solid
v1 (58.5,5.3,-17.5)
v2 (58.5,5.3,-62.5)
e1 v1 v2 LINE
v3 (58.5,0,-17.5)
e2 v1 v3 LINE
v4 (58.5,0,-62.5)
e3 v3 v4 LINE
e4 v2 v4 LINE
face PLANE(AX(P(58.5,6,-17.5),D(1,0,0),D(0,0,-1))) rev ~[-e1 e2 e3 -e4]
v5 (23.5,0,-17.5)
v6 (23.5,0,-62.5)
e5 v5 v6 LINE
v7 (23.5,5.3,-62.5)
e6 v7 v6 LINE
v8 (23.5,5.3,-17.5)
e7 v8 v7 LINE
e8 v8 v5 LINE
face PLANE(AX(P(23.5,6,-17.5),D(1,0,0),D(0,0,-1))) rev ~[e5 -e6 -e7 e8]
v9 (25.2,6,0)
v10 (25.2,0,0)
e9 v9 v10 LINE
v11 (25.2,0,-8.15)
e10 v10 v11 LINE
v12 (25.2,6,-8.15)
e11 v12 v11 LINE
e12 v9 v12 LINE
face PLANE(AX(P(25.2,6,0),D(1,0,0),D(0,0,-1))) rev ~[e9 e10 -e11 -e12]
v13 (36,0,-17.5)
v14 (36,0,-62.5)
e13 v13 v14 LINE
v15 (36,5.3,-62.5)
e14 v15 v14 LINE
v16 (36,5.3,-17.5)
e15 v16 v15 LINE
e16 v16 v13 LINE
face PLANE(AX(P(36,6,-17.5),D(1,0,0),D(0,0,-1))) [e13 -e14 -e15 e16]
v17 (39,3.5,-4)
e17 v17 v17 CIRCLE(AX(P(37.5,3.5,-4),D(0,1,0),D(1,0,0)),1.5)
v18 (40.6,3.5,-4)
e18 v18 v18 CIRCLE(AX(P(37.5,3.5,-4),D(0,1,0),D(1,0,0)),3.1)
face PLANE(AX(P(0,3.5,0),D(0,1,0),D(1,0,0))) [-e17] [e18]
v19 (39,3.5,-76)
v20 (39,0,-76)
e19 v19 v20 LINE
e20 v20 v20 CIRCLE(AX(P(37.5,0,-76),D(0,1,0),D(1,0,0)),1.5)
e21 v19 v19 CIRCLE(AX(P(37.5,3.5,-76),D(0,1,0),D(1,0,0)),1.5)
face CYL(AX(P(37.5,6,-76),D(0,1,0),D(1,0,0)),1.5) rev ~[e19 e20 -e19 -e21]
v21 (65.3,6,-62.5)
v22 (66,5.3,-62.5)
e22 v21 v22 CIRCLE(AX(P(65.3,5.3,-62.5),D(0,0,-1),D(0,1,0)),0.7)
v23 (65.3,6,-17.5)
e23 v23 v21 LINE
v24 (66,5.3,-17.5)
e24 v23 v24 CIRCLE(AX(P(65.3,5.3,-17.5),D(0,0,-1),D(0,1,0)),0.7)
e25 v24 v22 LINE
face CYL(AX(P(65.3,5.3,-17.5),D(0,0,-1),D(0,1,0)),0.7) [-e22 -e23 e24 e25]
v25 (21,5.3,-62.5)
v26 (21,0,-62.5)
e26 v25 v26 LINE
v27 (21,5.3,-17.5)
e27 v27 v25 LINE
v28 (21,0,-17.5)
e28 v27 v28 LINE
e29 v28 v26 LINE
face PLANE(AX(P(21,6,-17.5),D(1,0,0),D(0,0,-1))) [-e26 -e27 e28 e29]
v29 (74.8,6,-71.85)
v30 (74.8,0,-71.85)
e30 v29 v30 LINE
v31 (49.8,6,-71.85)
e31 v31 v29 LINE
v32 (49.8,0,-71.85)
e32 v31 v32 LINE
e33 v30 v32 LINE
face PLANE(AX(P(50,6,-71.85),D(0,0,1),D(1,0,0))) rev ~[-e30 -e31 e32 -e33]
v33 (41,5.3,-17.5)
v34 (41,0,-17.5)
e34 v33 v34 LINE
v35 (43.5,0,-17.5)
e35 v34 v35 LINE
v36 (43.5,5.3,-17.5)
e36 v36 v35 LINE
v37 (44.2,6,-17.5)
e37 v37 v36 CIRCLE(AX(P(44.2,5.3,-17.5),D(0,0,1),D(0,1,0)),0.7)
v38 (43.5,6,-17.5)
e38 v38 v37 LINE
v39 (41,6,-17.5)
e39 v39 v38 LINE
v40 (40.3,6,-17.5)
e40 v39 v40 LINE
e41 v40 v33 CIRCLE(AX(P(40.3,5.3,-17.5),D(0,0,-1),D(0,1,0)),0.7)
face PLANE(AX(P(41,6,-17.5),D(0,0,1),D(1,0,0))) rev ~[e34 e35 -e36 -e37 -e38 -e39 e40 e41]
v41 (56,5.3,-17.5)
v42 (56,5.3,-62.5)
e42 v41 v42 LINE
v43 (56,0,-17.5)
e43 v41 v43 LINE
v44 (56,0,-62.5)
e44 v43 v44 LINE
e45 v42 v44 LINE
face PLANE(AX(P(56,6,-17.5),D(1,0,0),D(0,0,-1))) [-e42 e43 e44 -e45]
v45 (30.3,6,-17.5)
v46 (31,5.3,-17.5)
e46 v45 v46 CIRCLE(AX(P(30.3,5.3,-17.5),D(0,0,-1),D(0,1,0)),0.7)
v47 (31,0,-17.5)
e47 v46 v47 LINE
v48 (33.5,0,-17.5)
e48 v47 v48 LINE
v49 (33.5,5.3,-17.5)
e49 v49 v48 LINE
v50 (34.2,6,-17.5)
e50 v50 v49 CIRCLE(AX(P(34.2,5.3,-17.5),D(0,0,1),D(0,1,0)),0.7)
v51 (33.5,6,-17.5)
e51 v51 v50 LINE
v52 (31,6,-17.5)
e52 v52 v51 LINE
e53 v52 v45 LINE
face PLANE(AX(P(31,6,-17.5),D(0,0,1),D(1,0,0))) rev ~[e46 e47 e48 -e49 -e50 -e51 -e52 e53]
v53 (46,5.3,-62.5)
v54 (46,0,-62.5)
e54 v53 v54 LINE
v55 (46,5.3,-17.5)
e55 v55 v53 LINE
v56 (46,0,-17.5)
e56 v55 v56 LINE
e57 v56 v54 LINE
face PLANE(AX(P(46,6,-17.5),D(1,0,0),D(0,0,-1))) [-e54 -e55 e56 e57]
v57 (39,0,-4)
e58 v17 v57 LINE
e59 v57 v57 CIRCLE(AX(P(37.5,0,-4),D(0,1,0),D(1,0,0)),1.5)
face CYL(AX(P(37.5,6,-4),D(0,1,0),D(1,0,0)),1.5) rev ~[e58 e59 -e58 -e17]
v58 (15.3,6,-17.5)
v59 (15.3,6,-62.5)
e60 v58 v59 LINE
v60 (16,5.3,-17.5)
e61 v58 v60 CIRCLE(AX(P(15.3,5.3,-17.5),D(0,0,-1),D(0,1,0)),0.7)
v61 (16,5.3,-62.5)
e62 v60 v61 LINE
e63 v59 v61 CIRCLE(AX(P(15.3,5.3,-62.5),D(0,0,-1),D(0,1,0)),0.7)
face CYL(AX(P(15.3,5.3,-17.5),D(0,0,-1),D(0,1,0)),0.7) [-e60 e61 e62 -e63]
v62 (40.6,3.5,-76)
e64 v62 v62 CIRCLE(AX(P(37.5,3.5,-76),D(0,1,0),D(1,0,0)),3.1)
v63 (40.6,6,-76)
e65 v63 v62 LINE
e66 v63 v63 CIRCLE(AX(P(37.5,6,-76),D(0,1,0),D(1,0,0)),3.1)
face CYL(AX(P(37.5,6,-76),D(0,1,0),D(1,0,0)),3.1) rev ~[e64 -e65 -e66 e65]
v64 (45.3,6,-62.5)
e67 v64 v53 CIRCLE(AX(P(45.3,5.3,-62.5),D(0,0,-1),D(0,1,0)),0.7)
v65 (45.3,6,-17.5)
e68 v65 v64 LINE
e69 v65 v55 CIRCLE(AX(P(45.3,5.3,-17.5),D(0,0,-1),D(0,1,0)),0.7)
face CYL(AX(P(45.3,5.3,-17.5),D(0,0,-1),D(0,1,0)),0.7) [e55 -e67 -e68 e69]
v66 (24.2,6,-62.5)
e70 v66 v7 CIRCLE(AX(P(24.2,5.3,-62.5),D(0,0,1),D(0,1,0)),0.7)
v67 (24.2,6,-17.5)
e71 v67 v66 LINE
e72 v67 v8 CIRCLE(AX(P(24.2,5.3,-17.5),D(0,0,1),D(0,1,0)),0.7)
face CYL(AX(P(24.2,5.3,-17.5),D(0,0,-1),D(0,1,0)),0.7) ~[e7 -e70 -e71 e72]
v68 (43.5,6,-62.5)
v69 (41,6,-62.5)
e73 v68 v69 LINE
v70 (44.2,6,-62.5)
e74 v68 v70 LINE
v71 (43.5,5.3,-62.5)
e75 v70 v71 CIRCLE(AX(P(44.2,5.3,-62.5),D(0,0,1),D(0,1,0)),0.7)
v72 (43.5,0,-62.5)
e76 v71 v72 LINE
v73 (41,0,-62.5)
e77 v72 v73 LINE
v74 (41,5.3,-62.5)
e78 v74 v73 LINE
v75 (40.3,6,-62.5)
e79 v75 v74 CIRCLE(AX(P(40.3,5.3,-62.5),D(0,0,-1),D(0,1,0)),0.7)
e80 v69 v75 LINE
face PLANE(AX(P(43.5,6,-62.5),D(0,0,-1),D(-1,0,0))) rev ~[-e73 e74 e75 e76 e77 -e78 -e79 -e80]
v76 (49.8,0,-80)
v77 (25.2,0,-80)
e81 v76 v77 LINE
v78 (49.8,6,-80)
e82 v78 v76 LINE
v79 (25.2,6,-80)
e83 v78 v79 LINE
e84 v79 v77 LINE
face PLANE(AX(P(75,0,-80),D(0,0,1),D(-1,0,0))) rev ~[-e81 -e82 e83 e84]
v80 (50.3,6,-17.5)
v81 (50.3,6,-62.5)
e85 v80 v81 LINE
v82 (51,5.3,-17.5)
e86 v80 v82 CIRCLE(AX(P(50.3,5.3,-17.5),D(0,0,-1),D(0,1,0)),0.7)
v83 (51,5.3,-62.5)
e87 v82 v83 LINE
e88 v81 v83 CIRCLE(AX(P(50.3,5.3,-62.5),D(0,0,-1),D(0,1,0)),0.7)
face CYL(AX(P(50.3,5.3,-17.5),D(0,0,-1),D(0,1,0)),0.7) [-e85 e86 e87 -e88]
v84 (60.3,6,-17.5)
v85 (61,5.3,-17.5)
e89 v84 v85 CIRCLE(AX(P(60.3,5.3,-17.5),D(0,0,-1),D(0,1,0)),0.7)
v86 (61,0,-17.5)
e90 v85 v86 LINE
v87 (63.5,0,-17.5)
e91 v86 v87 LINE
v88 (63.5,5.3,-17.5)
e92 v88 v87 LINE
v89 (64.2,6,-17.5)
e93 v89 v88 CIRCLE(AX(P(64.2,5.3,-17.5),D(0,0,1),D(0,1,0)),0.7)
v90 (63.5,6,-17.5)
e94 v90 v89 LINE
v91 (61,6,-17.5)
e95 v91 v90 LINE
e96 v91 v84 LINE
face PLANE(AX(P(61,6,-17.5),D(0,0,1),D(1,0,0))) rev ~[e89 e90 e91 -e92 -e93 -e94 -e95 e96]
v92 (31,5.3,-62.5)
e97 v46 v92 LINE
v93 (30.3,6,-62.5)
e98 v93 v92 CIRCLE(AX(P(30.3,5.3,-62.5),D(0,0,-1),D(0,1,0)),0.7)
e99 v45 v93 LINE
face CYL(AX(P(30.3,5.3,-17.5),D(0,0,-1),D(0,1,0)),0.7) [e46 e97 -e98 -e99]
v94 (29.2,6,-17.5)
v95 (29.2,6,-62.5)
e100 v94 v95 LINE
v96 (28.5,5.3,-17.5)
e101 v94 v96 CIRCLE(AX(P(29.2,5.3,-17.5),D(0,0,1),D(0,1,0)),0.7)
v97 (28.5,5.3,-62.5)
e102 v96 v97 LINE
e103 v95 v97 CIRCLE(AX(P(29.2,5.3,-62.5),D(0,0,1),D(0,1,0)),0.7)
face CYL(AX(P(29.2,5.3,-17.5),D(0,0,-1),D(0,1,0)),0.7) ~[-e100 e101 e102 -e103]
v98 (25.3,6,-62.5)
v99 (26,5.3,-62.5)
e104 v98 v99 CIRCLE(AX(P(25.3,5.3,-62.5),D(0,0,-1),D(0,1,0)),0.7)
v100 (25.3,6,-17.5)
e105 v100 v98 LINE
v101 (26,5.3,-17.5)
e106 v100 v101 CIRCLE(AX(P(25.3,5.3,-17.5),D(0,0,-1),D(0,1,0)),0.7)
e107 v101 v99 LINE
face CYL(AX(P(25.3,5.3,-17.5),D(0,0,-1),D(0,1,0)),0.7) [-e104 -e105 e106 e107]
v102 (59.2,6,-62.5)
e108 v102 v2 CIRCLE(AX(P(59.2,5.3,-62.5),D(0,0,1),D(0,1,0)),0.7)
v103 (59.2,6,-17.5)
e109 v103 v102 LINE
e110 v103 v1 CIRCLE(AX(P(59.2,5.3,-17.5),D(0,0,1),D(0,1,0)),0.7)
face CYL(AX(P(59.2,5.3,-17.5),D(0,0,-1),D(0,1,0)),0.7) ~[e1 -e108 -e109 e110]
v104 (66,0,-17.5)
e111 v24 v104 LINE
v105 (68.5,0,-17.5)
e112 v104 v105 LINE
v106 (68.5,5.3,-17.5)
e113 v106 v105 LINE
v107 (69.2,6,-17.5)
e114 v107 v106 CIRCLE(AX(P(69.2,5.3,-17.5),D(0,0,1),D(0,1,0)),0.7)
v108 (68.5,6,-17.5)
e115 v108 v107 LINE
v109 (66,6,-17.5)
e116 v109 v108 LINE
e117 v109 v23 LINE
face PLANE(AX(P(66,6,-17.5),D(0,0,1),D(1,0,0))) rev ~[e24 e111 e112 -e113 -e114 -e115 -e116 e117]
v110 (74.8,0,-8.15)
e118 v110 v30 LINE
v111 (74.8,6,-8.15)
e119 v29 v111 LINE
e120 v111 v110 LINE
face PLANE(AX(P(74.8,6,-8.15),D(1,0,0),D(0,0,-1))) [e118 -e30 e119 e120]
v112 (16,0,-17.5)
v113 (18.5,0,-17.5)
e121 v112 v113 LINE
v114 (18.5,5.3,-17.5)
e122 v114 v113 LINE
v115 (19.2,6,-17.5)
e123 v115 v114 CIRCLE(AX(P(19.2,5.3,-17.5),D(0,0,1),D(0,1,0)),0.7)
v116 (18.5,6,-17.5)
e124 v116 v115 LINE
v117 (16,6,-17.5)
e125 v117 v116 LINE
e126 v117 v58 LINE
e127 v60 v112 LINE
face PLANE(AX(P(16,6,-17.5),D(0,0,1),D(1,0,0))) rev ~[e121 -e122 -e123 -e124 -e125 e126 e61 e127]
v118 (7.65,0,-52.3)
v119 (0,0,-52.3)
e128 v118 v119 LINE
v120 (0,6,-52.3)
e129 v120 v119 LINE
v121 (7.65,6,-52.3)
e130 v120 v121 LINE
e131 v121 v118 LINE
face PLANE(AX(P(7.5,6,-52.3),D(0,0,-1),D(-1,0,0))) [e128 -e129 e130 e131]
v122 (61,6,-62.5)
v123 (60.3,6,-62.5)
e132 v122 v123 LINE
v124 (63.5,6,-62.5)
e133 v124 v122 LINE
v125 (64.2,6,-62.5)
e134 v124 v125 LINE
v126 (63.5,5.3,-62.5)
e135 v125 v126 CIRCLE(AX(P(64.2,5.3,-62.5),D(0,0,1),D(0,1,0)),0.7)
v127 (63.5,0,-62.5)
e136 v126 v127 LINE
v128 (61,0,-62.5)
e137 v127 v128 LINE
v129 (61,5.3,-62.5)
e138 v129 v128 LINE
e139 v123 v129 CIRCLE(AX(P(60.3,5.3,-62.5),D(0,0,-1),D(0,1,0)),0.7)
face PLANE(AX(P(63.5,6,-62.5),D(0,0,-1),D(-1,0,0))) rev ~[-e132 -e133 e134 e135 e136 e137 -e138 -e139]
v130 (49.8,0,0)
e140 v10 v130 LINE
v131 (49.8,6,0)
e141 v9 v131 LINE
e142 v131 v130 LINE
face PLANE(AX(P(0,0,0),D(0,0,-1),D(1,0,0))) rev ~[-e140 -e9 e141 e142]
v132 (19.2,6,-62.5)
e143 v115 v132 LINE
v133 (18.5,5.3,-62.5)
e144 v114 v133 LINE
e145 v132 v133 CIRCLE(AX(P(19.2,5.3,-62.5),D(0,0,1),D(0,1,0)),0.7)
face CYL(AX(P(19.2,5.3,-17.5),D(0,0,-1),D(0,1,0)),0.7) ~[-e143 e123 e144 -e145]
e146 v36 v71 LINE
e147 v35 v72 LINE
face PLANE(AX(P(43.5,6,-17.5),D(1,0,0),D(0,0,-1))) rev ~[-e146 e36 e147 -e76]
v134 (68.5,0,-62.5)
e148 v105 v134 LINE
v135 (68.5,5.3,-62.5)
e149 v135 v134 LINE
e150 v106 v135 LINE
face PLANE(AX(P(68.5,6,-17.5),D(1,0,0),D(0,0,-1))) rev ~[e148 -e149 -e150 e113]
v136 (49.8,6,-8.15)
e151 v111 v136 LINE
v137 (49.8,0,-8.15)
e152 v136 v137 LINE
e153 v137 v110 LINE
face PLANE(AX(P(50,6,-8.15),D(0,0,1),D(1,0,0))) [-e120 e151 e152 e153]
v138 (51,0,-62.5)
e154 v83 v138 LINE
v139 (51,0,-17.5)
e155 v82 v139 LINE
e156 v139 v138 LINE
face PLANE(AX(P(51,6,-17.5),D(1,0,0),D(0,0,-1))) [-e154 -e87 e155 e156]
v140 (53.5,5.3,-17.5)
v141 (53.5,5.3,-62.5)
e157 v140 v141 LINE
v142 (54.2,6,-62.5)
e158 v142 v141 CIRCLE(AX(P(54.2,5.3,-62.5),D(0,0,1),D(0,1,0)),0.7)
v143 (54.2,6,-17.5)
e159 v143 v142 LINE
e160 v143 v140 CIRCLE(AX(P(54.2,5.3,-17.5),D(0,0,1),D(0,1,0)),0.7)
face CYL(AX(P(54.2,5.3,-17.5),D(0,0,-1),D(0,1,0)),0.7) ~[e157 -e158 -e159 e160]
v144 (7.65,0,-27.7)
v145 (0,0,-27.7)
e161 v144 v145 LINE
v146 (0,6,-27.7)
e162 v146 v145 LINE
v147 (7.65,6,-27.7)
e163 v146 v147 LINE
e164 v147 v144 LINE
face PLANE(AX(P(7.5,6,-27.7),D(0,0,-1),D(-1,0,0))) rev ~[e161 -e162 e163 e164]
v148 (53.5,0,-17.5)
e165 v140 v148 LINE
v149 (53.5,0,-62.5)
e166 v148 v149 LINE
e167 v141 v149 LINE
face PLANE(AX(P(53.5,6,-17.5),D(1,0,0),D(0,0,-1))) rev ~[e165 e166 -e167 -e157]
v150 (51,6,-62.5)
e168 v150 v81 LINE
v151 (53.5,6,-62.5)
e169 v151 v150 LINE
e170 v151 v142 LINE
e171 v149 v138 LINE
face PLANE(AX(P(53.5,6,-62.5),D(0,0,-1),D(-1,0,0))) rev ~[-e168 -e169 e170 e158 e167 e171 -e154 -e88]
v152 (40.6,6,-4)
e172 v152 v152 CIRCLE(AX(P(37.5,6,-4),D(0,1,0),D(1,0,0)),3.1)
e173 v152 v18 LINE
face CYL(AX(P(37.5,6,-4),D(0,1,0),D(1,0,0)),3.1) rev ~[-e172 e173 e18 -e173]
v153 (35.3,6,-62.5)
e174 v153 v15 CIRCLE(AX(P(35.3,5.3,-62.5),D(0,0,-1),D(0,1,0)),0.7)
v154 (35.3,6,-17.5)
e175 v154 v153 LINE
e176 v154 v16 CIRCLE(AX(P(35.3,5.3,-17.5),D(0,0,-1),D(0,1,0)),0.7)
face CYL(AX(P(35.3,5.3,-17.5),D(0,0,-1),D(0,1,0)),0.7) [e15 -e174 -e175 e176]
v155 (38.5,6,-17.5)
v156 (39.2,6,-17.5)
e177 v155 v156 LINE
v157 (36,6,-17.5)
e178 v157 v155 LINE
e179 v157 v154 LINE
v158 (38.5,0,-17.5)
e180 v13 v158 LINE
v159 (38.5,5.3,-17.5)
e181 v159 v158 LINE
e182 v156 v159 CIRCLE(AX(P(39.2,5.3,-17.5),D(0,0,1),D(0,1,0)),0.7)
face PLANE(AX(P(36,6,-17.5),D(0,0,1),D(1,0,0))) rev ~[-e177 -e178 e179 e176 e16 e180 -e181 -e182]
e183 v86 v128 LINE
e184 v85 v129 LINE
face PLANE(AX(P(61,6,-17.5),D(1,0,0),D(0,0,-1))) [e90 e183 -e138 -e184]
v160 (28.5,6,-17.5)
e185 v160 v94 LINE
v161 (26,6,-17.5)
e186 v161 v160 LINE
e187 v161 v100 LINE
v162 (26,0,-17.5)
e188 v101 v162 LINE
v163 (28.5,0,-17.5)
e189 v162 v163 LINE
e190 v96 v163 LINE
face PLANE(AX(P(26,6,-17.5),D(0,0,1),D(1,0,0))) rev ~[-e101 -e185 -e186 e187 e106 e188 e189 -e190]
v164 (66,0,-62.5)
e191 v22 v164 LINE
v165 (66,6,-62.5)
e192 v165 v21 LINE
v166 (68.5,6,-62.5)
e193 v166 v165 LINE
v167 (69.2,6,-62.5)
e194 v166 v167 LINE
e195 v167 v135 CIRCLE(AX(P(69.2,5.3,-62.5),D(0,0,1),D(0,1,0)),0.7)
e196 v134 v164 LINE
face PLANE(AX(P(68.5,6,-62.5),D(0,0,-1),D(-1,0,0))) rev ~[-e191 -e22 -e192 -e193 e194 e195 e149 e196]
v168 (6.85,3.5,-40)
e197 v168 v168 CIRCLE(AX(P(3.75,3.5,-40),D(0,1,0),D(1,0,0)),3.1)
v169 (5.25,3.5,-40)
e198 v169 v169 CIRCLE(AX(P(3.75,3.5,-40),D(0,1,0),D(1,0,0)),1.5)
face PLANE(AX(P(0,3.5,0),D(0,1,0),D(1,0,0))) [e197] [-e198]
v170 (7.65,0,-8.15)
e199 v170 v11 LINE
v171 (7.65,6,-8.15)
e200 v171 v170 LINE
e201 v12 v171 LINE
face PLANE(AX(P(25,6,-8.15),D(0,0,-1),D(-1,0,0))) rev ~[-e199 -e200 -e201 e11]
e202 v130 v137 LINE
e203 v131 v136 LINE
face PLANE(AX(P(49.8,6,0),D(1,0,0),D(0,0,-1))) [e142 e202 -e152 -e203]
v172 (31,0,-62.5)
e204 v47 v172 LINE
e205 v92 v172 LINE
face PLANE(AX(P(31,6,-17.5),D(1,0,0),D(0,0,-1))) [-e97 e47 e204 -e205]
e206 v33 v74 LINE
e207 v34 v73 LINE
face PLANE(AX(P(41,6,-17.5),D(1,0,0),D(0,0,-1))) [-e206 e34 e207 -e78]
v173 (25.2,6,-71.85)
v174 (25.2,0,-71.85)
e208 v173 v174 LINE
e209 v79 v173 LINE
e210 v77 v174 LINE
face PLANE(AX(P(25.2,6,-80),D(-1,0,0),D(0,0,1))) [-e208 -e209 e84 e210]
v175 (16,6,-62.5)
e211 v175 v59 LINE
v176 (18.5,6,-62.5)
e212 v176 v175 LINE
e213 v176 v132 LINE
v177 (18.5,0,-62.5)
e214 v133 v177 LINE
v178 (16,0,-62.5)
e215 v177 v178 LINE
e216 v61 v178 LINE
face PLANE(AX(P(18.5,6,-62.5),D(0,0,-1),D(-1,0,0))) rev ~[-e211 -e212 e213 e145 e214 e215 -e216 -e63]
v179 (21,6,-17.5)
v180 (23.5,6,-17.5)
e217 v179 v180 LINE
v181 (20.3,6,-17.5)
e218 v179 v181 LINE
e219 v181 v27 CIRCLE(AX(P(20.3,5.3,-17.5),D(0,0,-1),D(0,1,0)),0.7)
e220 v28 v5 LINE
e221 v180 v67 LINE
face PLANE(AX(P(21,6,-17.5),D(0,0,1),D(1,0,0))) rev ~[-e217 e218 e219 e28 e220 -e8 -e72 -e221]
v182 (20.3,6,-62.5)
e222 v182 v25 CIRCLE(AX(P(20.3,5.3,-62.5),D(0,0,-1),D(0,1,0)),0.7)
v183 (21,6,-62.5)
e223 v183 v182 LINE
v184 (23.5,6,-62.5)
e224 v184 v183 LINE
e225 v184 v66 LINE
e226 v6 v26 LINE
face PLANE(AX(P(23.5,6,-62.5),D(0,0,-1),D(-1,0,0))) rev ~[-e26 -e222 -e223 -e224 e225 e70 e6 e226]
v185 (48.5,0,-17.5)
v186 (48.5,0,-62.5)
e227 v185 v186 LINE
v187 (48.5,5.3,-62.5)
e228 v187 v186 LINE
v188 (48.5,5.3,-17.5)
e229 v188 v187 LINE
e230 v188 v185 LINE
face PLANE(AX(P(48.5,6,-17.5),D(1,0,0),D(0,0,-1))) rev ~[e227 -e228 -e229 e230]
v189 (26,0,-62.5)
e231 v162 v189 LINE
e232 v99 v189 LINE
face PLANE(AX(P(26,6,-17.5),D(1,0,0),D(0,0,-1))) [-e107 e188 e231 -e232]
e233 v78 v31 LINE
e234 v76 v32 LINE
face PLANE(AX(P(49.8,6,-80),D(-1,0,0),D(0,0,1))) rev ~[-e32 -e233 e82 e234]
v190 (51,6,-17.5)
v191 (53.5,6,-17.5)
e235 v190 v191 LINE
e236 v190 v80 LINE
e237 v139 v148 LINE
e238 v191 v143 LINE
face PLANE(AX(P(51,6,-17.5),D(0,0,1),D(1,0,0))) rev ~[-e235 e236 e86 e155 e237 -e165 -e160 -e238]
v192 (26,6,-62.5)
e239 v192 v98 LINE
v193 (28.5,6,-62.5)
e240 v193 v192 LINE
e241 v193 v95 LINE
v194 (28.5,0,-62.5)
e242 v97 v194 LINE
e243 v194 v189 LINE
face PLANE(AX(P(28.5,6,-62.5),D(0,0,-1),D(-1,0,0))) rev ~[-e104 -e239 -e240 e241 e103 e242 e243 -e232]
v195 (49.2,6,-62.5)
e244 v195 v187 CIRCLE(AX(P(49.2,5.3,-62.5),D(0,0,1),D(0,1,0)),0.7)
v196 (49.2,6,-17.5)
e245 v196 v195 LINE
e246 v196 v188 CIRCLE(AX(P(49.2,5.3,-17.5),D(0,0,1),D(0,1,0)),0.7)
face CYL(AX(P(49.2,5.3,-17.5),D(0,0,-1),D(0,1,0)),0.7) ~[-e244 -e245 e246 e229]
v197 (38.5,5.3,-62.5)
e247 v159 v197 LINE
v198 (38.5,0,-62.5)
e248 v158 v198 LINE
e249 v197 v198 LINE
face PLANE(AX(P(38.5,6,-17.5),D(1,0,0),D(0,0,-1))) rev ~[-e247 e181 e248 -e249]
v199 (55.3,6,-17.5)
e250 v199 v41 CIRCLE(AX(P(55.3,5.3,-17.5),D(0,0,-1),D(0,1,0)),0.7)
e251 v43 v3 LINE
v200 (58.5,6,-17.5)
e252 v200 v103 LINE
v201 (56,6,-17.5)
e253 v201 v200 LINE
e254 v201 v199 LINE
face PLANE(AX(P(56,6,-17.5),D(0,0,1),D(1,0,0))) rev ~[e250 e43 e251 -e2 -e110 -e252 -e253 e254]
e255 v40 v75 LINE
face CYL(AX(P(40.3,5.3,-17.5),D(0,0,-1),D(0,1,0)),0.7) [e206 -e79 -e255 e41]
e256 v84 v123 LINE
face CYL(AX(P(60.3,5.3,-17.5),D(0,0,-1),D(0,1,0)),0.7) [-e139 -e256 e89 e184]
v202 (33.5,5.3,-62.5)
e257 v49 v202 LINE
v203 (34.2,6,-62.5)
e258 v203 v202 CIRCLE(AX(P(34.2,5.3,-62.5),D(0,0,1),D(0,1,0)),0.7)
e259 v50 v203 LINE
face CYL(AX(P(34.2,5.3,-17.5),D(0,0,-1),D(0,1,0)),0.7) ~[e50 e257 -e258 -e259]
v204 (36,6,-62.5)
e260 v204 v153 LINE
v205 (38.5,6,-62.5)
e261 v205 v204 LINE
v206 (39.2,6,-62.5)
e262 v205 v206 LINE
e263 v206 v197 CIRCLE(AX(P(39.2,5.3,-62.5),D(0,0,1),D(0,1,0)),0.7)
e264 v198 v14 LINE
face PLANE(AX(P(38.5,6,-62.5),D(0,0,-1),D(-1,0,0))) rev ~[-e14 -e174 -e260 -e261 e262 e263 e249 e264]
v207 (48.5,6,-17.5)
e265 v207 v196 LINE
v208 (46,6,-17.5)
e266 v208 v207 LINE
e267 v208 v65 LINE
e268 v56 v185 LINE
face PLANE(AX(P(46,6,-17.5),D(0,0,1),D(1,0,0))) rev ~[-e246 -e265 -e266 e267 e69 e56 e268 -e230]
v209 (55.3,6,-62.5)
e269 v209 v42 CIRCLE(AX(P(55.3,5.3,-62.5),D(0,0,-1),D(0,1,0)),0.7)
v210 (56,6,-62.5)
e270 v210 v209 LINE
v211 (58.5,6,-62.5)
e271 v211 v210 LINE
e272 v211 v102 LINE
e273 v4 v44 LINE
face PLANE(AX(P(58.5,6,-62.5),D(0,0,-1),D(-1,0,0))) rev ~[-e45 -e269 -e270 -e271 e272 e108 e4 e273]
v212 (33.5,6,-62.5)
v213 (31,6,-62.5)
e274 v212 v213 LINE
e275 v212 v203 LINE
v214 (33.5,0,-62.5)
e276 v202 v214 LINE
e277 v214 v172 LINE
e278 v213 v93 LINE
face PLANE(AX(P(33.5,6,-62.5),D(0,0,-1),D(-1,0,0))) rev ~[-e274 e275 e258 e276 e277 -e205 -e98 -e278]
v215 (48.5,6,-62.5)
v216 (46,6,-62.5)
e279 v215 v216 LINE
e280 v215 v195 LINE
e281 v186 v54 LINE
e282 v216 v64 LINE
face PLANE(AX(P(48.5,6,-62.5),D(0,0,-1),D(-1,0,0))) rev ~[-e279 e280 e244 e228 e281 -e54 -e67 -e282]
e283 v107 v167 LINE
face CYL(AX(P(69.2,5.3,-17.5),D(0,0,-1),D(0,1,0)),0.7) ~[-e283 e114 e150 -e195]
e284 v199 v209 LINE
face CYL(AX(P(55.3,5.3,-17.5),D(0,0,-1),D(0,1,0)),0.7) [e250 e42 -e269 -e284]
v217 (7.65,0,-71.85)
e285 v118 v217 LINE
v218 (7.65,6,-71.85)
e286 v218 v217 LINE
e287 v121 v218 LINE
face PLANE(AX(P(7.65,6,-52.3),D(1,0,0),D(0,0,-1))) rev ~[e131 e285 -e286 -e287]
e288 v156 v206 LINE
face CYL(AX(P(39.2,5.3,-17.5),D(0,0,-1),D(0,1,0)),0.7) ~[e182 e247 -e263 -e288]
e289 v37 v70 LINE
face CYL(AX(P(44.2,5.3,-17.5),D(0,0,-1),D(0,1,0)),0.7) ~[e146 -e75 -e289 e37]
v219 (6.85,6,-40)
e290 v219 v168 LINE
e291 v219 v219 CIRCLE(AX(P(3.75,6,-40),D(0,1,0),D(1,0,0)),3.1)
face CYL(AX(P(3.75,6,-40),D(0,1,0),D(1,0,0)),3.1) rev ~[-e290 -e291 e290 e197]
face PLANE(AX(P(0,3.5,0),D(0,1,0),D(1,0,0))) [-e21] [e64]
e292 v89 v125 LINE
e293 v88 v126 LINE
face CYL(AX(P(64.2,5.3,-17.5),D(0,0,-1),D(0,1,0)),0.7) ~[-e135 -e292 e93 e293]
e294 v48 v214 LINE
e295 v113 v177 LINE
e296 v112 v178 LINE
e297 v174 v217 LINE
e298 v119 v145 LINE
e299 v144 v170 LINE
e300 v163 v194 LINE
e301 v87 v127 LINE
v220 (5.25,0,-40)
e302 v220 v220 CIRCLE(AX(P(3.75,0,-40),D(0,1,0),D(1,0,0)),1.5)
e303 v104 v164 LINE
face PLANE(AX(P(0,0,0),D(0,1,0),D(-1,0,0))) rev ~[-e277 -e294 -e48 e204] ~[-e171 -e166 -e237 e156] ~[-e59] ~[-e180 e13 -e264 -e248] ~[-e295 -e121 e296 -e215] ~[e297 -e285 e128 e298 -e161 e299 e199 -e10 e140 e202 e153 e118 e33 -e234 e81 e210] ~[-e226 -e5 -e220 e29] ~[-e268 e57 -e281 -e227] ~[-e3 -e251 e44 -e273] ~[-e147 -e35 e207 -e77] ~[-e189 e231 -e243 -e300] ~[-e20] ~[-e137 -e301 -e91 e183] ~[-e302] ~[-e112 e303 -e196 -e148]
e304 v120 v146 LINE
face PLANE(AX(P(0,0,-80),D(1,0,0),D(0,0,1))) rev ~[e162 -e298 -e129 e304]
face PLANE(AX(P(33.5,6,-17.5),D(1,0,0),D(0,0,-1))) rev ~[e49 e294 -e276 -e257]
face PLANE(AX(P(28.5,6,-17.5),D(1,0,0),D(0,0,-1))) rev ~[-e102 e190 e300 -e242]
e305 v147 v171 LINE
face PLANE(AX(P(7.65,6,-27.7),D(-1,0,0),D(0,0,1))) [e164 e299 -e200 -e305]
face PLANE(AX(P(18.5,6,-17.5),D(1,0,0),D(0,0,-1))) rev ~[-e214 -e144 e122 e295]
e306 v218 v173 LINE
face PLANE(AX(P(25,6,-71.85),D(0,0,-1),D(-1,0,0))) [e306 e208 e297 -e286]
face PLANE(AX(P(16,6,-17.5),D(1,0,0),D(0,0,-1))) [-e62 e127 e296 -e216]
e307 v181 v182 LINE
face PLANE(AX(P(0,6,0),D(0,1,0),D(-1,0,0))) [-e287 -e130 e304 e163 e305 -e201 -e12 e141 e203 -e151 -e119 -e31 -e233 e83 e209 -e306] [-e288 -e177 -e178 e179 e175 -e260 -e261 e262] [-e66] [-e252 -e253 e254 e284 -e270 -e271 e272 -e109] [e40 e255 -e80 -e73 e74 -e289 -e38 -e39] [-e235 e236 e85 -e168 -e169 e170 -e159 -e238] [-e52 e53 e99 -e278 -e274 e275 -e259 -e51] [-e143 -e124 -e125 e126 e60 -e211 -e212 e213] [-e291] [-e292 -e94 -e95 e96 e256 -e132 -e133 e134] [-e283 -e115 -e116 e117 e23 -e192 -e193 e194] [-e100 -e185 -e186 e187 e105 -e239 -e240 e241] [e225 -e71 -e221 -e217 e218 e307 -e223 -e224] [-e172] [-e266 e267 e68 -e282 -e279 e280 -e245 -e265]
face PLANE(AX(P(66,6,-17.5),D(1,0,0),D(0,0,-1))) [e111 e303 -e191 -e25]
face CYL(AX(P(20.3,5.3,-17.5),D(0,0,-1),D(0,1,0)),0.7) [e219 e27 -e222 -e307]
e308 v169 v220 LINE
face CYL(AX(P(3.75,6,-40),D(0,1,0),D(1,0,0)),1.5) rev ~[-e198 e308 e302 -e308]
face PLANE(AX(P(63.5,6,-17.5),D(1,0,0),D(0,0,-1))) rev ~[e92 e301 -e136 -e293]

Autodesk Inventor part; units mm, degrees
ref_plane "YZ Plane" through (0, 0, 0) normal (1, 0, 0) x (0, 1, 0)
ref_plane "XZ Plane" through (0, 0, 0) normal (0, 1, 0) x (-1, 0, 0)
ref_plane "XY Plane" through (0, 0, 0) normal (0, 0, 1) x (1, 0, 0)
sketch "Boceto1" plane through (0, 0, 0) normal (0, 1, 0) x (-1, 0, 0)
  line L0 (0, 0) -> (-75, 0)
  line L1 (-75, 0) -> (-75, -80)
  line L2 (-75, -80) -> (0, -80)
  line L3 (0, -80) -> (0, 0)
  dimension "d0" = 80
  dimension "d1" = 75
extrude "Extrusión1" add sketch "Boceto1" along normal blind 6
sketch "Boceto2" plane through (0, 6, 0) normal (0, 1, 0) x (1, 0, 0)
  line L0 (0, 0) -> (75, 0) projected
  line L1 (25, 0) -> (25, 8)
  line L2 (25, 8) -> (7.5, 8)
  line L3 (7.5, 8) -> (7.5, 27.5)
  line L4 (7.5, 27.5) -> (0, 27.5)
  line L5 (0, 27.5) -> (0, 40)
  line L6 (25, 0) -> (50, 0)
  line L7 (50, 0) -> (50, 8)
  line L8 (50, 8) -> (75, 8)
  line L9 (75, 0) -> (75, 80) projected
  line L10 (-21.9373, 40) -> (100.0778, 40)
  line L11 (25, 0) -> (50, 0)
  line L12 (25, 80) -> (25, 72)
  line L13 (25, 72) -> (7.5, 72)
  line L14 (7.5, 72) -> (7.5, 52.5)
  line L15 (7.5, 52.5) -> (0, 52.5)
  line L16 (0, 52.5) -> (0, 40)
  line L17 (50, 80) -> (50, 72)
  line L18 (50, 72) -> (75, 72)
  line L19 (25, 80) -> (50, 80)
  line L20 (75, 80) -> (0, 80) projected
  line L21 (0, 80) -> (0, 0) projected
  dimension "d4" = 12.5
  dimension "d7" = 8
  dimension "d8" = 25
  dimension "d9" = 25
  dimension "d10" = 12.5
  dimension "d11" = 27.5
  dimension "d12" = 27.5
  dimension "d13" = 8
  dimension "d14" = 8
  dimension "d15" = 8
  dimension "d16" = 7.5
  dimension "d17" = 25
  dimension "d18" = 25
  dimension "d19" = 25
  dimension "d20" = 25
extrude "Extrusión2" cut sketch "Boceto2" against normal through all contours L21 L4 L3 L2 L1 L0 | L7 L8 L9 L0 | L21 L20 L12 L13 L14 L15 | L18 L17 L20 L9
sketch "Boceto3" plane through (0, 6, 0) normal (0, 1, 0) x (1, 0, 0)
  circle A0 centre (3.75, 40) radius 1.5
  circle A1 centre (37.5, 76) radius 1.5
  circle A2 centre (37.5, 4) radius 1.5
  line L0 (7.5, 52.5) -> (0, 52.5) projected
  line L1 (0, 52.5) -> (0, 27.5) projected
  line L2 (50, 80) -> (25, 80) projected
  line L3 (25, 0) -> (50, 0) projected
  line L4 (50, 0) -> (50, 8) projected
  line L5 (50, 72) -> (50, 80) projected
  point P0 (0, 0)
  dimension "d23" = 3
  dimension "d24" = 12.5
  dimension "d25" = 3.75
  dimension "d26" = 4
  dimension "d27" = 4
  dimension "d28" = 12.5
  dimension "d29" = 12.5
extrude "Extrusión3" cut sketch "Boceto3" against normal through all
sketch "Boceto4" plane through (0, 6, 0) normal (0, 1, 0) x (1, 0, 0)
  circle A0 centre (3.75, 40) radius 1.5 projected
  circle A1 centre (3.75, 40) radius 3.1
  circle A2 centre (37.5, 4) radius 1.5 projected
  circle A3 centre (37.5, 4) radius 3.1
  circle A4 centre (37.5, 76) radius 1.5 projected
  circle A5 centre (37.5, 76) radius 3.1
  point P0 (0, 0)
  dimension "d32" = 6.2
extrude "Extrusión4" cut sketch "Boceto4" against normal blind 2.5 contours A0 | A1 | A2 | A3 | A5
sketch "Boceto5" plane through (0, 6, 0) normal (0, 1, 0) x (1, 0, 0)
  line L0 (0, 52.5) -> (0, 27.5) projected
  line L1 (7.5, 52.5) -> (0, 52.5) projected
  line L2 (0, 52.5) -> (7.5, 52.5)
  line L3 (7.5, 52.5) -> (7.5, 52.3)
  line L4 (7.5, 52.3) -> (0, 52.3)
  line L5 (0, 52.3) -> (0, 52.5)
  line L6 (25, 80) -> (25, 72) projected
  line L7 (25, 80) -> (25.2, 80)
  line L8 (25.2, 80) -> (25.2, 71.85)
  line L9 (25.2, 71.85) -> (25, 71.85)
  line L10 (25, 71.85) -> (25, 80)
  line L11 (7.5, 72) -> (25, 72)
  line L12 (25, 72) -> (25, 71.85)
  line L13 (25, 71.85) -> (7.5, 71.85)
  line L14 (7.5, 71.85) -> (7.5, 72)
  line L15 (7.5, 52.3) -> (7.65, 52.3)
  line L16 (7.65, 52.3) -> (7.65, 72)
  line L17 (7.65, 72) -> (7.5, 72)
  line L18 (7.5, 72) -> (7.5, 52.3)
  line L19 (50, 80) -> (25, 80) projected
  line L20 (50, 80) -> (49.8, 80)
  line L21 (49.8, 80) -> (49.8, 71.85)
  line L22 (49.8, 71.85) -> (50, 71.85)
  line L23 (50, 71.85) -> (50, 80)
  line L24 (50, 71.85) -> (75, 71.85)
  line L25 (75, 71.85) -> (75, 72)
  line L26 (75, 72) -> (50, 72)
  line L27 (50, 72) -> (50, 71.85)
  line L28 (50, 8) -> (75, 8) projected
  line L29 (75, 8) -> (74.8, 8)
  line L30 (74.8, 8) -> (74.8, 72)
  line L31 (74.8, 72) -> (75, 72)
  line L32 (75, 72) -> (75, 8)
  line L33 (-2.8758, 40) -> (82.3038, 40)
  line L34 (7.5, 27.5) -> (0, 27.5)
  line L35 (0, 27.5) -> (7.5, 27.5)
  line L36 (7.5, 27.5) -> (7.5, 27.7)
  line L37 (7.5, 27.7) -> (0, 27.7)
  line L38 (0, 27.7) -> (0, 27.5)
  line L39 (25, 0) -> (25, 8)
  line L40 (25, 0) -> (25.2, 0)
  line L41 (25.2, 0) -> (25.2, 8.15)
  line L42 (25.2, 8.15) -> (25, 8.15)
  line L43 (25, 8.15) -> (25, 0)
  line L44 (7.5, 8) -> (25, 8)
  line L45 (25, 8) -> (25, 8.15)
  line L46 (25, 8.15) -> (7.5, 8.15)
  line L47 (7.5, 8.15) -> (7.5, 8)
  line L48 (7.5, 27.7) -> (7.65, 27.7)
  line L49 (7.65, 27.7) -> (7.65, 8)
  line L50 (7.65, 8) -> (7.5, 8)
  line L51 (7.5, 8) -> (7.5, 27.7)
  line L52 (50, 0) -> (49.8, 0)
  line L53 (49.8, 0) -> (49.8, 8.15)
  line L54 (49.8, 8.15) -> (50, 8.15)
  line L55 (50, 8.15) -> (50, 0)
  line L56 (50, 8.15) -> (75, 8.15)
  line L57 (75, 8.15) -> (75, 8)
  line L58 (75, 8) -> (50, 8)
  line L59 (50, 8) -> (50, 8.15)
  point P0 (0, 0)
  point P1 (7.5, 8.15)
  point P2 (7.65, 8.15)
  point P3 (0, 27.7)
  point P4 (74.8, 71.85)
  point P5 (74.8, 8.15)
  point P6 (0, 52.3)
  point P7 (7.65, 71.85)
  point P8 (7.5, 71.85)
  dimension "d35" = 0.2
  dimension "d36" = 0.15
  dimension "d37" = 0.2
  dimension "d38" = 0.15
  dimension "d39" = 0.2
  dimension "d40" = 0.15
  dimension "d41" = 0.2
extrude "Extrusión5" cut sketch "Boceto5" against normal blind 6 contours L1 L3 L4 L0 | L37 L36 L34 L0 | L18 L13 L16 L15 L3 | L14 L11 L16 L13 | L33 L32 L56 L30 | L30 L24 L32 L33 | L16 L11 L10 L13 | L48 L49 L46 L51 L36 | L56 L32 L28 L30 | L30 L28 L55 L56 | L30 L26 L25 L24 | L24 L23 L26 L30 | L10 L6 L7 L8 L9 | L55 L52 L53 L54 | L22 L21 L19 L23 | L46 L49 L44 L47 | L46 L43 L44 L49 | L42 L41 L40 L39 L43
sketch "Boceto6" plane through (0, 6, 0) normal (0, 1, 0) x (1, 0, 0)
  point P0 (0, 0)
sketch "Boceto7" plane through (0, 6, 0) normal (0, 1, 0) x (1, 0, 0)
  line L0 (13.5, 17.5) -> (68.5, 17.5)
  line L1 (68.5, 17.5) -> (68.5, 62.5)
  line L2 (68.5, 62.5) -> (13.5, 62.5)
  line L3 (13.5, 62.5) -> (13.5, 17.5)
  line L4 (0, 52.3) -> (0, 27.7) projected
  line L5 (49.8, 80) -> (25.2, 80) projected
  line L6 (13.5, 17.5) -> (16, 17.5)
  line L7 (16, 17.5) -> (16, 62.5)
  line L8 (16, 62.5) -> (13.5, 62.5)
  line L9 (13.5, 62.5) -> (13.5, 17.5)
  line L10 (18.5, 17.5) -> (18.5, 62.5)
  line L11 (21, 17.5) -> (21, 62.5)
  line L12 (23.5, 17.5) -> (23.5, 62.5)
  line L13 (26, 17.5) -> (26, 62.5)
  line L14 (28.5, 17.5) -> (28.5, 62.5)
  line L15 (31, 17.5) -> (31, 62.5)
  line L16 (33.5, 17.5) -> (33.5, 62.5)
  line L17 (36, 17.5) -> (36, 62.5)
  line L18 (38.5, 17.5) -> (38.5, 62.5)
  line L19 (41, 17.5) -> (41, 62.5)
  line L20 (43.5, 17.5) -> (43.5, 62.5)
  line L21 (46, 17.5) -> (46, 62.5)
  line L22 (48.5, 17.5) -> (48.5, 62.5)
  line L23 (51, 17.5) -> (51, 62.5)
  line L24 (53.5, 17.5) -> (53.5, 62.5)
  line L25 (56, 17.5) -> (56, 62.5)
  line L26 (58.5, 17.5) -> (58.5, 62.5)
  line L27 (61, 17.5) -> (61, 62.5)
  line L28 (63.5, 17.5) -> (63.5, 62.5)
  line L29 (66, 17.5) -> (66, 62.5)
  point P0 (0, 0)
  point P1 (0, 40)
  point P2 (37.5, 80)
  dimension "d44" = 45
  dimension "d45" = 55
  dimension "d46" = 22.5
  dimension "d47" = 31
  dimension "d48" = 2.5
  dimension "d51" = 2.5
extrude "Extrusión6" cut sketch "Boceto7" against normal blind 6 contours L7 L2 L10 L0 | L11 L2 L12 L0 | L13 L2 L14 L0 | L15 L2 L16 L0 | L17 L2 L18 L0 | L19 L2 L20 L0 | L21 L2 L22 L0 | L23 L2 L24 L0 | L25 L2 L26 L0 | L27 L2 L28 L0 | L29 L2 L1 L0
fillet "Empalme1" radius 0.7 22 edges at (66, 6, -40) (63.5, 6, -40) (61, 6, -40) (58.5, 6, -40) (56, 6, -40) (53.5, 6, -40) (51, 6, -40) (48.5, 6, -40) (46, 6, -40) (43.5, 6, -40) (41, 6, -40) (38.5, 6, -40) (68.5, 6, -40) (36, 6, -40) (33.5, 6, -40) (31, 6, -40) (28.5, 6, -40) (26, 6, -40) (23.5, 6, -40) (21, 6, -40) (18.5, 6, -40) (16, 6, -40)
properties part number "Tapa - Caja para Electrónica"
